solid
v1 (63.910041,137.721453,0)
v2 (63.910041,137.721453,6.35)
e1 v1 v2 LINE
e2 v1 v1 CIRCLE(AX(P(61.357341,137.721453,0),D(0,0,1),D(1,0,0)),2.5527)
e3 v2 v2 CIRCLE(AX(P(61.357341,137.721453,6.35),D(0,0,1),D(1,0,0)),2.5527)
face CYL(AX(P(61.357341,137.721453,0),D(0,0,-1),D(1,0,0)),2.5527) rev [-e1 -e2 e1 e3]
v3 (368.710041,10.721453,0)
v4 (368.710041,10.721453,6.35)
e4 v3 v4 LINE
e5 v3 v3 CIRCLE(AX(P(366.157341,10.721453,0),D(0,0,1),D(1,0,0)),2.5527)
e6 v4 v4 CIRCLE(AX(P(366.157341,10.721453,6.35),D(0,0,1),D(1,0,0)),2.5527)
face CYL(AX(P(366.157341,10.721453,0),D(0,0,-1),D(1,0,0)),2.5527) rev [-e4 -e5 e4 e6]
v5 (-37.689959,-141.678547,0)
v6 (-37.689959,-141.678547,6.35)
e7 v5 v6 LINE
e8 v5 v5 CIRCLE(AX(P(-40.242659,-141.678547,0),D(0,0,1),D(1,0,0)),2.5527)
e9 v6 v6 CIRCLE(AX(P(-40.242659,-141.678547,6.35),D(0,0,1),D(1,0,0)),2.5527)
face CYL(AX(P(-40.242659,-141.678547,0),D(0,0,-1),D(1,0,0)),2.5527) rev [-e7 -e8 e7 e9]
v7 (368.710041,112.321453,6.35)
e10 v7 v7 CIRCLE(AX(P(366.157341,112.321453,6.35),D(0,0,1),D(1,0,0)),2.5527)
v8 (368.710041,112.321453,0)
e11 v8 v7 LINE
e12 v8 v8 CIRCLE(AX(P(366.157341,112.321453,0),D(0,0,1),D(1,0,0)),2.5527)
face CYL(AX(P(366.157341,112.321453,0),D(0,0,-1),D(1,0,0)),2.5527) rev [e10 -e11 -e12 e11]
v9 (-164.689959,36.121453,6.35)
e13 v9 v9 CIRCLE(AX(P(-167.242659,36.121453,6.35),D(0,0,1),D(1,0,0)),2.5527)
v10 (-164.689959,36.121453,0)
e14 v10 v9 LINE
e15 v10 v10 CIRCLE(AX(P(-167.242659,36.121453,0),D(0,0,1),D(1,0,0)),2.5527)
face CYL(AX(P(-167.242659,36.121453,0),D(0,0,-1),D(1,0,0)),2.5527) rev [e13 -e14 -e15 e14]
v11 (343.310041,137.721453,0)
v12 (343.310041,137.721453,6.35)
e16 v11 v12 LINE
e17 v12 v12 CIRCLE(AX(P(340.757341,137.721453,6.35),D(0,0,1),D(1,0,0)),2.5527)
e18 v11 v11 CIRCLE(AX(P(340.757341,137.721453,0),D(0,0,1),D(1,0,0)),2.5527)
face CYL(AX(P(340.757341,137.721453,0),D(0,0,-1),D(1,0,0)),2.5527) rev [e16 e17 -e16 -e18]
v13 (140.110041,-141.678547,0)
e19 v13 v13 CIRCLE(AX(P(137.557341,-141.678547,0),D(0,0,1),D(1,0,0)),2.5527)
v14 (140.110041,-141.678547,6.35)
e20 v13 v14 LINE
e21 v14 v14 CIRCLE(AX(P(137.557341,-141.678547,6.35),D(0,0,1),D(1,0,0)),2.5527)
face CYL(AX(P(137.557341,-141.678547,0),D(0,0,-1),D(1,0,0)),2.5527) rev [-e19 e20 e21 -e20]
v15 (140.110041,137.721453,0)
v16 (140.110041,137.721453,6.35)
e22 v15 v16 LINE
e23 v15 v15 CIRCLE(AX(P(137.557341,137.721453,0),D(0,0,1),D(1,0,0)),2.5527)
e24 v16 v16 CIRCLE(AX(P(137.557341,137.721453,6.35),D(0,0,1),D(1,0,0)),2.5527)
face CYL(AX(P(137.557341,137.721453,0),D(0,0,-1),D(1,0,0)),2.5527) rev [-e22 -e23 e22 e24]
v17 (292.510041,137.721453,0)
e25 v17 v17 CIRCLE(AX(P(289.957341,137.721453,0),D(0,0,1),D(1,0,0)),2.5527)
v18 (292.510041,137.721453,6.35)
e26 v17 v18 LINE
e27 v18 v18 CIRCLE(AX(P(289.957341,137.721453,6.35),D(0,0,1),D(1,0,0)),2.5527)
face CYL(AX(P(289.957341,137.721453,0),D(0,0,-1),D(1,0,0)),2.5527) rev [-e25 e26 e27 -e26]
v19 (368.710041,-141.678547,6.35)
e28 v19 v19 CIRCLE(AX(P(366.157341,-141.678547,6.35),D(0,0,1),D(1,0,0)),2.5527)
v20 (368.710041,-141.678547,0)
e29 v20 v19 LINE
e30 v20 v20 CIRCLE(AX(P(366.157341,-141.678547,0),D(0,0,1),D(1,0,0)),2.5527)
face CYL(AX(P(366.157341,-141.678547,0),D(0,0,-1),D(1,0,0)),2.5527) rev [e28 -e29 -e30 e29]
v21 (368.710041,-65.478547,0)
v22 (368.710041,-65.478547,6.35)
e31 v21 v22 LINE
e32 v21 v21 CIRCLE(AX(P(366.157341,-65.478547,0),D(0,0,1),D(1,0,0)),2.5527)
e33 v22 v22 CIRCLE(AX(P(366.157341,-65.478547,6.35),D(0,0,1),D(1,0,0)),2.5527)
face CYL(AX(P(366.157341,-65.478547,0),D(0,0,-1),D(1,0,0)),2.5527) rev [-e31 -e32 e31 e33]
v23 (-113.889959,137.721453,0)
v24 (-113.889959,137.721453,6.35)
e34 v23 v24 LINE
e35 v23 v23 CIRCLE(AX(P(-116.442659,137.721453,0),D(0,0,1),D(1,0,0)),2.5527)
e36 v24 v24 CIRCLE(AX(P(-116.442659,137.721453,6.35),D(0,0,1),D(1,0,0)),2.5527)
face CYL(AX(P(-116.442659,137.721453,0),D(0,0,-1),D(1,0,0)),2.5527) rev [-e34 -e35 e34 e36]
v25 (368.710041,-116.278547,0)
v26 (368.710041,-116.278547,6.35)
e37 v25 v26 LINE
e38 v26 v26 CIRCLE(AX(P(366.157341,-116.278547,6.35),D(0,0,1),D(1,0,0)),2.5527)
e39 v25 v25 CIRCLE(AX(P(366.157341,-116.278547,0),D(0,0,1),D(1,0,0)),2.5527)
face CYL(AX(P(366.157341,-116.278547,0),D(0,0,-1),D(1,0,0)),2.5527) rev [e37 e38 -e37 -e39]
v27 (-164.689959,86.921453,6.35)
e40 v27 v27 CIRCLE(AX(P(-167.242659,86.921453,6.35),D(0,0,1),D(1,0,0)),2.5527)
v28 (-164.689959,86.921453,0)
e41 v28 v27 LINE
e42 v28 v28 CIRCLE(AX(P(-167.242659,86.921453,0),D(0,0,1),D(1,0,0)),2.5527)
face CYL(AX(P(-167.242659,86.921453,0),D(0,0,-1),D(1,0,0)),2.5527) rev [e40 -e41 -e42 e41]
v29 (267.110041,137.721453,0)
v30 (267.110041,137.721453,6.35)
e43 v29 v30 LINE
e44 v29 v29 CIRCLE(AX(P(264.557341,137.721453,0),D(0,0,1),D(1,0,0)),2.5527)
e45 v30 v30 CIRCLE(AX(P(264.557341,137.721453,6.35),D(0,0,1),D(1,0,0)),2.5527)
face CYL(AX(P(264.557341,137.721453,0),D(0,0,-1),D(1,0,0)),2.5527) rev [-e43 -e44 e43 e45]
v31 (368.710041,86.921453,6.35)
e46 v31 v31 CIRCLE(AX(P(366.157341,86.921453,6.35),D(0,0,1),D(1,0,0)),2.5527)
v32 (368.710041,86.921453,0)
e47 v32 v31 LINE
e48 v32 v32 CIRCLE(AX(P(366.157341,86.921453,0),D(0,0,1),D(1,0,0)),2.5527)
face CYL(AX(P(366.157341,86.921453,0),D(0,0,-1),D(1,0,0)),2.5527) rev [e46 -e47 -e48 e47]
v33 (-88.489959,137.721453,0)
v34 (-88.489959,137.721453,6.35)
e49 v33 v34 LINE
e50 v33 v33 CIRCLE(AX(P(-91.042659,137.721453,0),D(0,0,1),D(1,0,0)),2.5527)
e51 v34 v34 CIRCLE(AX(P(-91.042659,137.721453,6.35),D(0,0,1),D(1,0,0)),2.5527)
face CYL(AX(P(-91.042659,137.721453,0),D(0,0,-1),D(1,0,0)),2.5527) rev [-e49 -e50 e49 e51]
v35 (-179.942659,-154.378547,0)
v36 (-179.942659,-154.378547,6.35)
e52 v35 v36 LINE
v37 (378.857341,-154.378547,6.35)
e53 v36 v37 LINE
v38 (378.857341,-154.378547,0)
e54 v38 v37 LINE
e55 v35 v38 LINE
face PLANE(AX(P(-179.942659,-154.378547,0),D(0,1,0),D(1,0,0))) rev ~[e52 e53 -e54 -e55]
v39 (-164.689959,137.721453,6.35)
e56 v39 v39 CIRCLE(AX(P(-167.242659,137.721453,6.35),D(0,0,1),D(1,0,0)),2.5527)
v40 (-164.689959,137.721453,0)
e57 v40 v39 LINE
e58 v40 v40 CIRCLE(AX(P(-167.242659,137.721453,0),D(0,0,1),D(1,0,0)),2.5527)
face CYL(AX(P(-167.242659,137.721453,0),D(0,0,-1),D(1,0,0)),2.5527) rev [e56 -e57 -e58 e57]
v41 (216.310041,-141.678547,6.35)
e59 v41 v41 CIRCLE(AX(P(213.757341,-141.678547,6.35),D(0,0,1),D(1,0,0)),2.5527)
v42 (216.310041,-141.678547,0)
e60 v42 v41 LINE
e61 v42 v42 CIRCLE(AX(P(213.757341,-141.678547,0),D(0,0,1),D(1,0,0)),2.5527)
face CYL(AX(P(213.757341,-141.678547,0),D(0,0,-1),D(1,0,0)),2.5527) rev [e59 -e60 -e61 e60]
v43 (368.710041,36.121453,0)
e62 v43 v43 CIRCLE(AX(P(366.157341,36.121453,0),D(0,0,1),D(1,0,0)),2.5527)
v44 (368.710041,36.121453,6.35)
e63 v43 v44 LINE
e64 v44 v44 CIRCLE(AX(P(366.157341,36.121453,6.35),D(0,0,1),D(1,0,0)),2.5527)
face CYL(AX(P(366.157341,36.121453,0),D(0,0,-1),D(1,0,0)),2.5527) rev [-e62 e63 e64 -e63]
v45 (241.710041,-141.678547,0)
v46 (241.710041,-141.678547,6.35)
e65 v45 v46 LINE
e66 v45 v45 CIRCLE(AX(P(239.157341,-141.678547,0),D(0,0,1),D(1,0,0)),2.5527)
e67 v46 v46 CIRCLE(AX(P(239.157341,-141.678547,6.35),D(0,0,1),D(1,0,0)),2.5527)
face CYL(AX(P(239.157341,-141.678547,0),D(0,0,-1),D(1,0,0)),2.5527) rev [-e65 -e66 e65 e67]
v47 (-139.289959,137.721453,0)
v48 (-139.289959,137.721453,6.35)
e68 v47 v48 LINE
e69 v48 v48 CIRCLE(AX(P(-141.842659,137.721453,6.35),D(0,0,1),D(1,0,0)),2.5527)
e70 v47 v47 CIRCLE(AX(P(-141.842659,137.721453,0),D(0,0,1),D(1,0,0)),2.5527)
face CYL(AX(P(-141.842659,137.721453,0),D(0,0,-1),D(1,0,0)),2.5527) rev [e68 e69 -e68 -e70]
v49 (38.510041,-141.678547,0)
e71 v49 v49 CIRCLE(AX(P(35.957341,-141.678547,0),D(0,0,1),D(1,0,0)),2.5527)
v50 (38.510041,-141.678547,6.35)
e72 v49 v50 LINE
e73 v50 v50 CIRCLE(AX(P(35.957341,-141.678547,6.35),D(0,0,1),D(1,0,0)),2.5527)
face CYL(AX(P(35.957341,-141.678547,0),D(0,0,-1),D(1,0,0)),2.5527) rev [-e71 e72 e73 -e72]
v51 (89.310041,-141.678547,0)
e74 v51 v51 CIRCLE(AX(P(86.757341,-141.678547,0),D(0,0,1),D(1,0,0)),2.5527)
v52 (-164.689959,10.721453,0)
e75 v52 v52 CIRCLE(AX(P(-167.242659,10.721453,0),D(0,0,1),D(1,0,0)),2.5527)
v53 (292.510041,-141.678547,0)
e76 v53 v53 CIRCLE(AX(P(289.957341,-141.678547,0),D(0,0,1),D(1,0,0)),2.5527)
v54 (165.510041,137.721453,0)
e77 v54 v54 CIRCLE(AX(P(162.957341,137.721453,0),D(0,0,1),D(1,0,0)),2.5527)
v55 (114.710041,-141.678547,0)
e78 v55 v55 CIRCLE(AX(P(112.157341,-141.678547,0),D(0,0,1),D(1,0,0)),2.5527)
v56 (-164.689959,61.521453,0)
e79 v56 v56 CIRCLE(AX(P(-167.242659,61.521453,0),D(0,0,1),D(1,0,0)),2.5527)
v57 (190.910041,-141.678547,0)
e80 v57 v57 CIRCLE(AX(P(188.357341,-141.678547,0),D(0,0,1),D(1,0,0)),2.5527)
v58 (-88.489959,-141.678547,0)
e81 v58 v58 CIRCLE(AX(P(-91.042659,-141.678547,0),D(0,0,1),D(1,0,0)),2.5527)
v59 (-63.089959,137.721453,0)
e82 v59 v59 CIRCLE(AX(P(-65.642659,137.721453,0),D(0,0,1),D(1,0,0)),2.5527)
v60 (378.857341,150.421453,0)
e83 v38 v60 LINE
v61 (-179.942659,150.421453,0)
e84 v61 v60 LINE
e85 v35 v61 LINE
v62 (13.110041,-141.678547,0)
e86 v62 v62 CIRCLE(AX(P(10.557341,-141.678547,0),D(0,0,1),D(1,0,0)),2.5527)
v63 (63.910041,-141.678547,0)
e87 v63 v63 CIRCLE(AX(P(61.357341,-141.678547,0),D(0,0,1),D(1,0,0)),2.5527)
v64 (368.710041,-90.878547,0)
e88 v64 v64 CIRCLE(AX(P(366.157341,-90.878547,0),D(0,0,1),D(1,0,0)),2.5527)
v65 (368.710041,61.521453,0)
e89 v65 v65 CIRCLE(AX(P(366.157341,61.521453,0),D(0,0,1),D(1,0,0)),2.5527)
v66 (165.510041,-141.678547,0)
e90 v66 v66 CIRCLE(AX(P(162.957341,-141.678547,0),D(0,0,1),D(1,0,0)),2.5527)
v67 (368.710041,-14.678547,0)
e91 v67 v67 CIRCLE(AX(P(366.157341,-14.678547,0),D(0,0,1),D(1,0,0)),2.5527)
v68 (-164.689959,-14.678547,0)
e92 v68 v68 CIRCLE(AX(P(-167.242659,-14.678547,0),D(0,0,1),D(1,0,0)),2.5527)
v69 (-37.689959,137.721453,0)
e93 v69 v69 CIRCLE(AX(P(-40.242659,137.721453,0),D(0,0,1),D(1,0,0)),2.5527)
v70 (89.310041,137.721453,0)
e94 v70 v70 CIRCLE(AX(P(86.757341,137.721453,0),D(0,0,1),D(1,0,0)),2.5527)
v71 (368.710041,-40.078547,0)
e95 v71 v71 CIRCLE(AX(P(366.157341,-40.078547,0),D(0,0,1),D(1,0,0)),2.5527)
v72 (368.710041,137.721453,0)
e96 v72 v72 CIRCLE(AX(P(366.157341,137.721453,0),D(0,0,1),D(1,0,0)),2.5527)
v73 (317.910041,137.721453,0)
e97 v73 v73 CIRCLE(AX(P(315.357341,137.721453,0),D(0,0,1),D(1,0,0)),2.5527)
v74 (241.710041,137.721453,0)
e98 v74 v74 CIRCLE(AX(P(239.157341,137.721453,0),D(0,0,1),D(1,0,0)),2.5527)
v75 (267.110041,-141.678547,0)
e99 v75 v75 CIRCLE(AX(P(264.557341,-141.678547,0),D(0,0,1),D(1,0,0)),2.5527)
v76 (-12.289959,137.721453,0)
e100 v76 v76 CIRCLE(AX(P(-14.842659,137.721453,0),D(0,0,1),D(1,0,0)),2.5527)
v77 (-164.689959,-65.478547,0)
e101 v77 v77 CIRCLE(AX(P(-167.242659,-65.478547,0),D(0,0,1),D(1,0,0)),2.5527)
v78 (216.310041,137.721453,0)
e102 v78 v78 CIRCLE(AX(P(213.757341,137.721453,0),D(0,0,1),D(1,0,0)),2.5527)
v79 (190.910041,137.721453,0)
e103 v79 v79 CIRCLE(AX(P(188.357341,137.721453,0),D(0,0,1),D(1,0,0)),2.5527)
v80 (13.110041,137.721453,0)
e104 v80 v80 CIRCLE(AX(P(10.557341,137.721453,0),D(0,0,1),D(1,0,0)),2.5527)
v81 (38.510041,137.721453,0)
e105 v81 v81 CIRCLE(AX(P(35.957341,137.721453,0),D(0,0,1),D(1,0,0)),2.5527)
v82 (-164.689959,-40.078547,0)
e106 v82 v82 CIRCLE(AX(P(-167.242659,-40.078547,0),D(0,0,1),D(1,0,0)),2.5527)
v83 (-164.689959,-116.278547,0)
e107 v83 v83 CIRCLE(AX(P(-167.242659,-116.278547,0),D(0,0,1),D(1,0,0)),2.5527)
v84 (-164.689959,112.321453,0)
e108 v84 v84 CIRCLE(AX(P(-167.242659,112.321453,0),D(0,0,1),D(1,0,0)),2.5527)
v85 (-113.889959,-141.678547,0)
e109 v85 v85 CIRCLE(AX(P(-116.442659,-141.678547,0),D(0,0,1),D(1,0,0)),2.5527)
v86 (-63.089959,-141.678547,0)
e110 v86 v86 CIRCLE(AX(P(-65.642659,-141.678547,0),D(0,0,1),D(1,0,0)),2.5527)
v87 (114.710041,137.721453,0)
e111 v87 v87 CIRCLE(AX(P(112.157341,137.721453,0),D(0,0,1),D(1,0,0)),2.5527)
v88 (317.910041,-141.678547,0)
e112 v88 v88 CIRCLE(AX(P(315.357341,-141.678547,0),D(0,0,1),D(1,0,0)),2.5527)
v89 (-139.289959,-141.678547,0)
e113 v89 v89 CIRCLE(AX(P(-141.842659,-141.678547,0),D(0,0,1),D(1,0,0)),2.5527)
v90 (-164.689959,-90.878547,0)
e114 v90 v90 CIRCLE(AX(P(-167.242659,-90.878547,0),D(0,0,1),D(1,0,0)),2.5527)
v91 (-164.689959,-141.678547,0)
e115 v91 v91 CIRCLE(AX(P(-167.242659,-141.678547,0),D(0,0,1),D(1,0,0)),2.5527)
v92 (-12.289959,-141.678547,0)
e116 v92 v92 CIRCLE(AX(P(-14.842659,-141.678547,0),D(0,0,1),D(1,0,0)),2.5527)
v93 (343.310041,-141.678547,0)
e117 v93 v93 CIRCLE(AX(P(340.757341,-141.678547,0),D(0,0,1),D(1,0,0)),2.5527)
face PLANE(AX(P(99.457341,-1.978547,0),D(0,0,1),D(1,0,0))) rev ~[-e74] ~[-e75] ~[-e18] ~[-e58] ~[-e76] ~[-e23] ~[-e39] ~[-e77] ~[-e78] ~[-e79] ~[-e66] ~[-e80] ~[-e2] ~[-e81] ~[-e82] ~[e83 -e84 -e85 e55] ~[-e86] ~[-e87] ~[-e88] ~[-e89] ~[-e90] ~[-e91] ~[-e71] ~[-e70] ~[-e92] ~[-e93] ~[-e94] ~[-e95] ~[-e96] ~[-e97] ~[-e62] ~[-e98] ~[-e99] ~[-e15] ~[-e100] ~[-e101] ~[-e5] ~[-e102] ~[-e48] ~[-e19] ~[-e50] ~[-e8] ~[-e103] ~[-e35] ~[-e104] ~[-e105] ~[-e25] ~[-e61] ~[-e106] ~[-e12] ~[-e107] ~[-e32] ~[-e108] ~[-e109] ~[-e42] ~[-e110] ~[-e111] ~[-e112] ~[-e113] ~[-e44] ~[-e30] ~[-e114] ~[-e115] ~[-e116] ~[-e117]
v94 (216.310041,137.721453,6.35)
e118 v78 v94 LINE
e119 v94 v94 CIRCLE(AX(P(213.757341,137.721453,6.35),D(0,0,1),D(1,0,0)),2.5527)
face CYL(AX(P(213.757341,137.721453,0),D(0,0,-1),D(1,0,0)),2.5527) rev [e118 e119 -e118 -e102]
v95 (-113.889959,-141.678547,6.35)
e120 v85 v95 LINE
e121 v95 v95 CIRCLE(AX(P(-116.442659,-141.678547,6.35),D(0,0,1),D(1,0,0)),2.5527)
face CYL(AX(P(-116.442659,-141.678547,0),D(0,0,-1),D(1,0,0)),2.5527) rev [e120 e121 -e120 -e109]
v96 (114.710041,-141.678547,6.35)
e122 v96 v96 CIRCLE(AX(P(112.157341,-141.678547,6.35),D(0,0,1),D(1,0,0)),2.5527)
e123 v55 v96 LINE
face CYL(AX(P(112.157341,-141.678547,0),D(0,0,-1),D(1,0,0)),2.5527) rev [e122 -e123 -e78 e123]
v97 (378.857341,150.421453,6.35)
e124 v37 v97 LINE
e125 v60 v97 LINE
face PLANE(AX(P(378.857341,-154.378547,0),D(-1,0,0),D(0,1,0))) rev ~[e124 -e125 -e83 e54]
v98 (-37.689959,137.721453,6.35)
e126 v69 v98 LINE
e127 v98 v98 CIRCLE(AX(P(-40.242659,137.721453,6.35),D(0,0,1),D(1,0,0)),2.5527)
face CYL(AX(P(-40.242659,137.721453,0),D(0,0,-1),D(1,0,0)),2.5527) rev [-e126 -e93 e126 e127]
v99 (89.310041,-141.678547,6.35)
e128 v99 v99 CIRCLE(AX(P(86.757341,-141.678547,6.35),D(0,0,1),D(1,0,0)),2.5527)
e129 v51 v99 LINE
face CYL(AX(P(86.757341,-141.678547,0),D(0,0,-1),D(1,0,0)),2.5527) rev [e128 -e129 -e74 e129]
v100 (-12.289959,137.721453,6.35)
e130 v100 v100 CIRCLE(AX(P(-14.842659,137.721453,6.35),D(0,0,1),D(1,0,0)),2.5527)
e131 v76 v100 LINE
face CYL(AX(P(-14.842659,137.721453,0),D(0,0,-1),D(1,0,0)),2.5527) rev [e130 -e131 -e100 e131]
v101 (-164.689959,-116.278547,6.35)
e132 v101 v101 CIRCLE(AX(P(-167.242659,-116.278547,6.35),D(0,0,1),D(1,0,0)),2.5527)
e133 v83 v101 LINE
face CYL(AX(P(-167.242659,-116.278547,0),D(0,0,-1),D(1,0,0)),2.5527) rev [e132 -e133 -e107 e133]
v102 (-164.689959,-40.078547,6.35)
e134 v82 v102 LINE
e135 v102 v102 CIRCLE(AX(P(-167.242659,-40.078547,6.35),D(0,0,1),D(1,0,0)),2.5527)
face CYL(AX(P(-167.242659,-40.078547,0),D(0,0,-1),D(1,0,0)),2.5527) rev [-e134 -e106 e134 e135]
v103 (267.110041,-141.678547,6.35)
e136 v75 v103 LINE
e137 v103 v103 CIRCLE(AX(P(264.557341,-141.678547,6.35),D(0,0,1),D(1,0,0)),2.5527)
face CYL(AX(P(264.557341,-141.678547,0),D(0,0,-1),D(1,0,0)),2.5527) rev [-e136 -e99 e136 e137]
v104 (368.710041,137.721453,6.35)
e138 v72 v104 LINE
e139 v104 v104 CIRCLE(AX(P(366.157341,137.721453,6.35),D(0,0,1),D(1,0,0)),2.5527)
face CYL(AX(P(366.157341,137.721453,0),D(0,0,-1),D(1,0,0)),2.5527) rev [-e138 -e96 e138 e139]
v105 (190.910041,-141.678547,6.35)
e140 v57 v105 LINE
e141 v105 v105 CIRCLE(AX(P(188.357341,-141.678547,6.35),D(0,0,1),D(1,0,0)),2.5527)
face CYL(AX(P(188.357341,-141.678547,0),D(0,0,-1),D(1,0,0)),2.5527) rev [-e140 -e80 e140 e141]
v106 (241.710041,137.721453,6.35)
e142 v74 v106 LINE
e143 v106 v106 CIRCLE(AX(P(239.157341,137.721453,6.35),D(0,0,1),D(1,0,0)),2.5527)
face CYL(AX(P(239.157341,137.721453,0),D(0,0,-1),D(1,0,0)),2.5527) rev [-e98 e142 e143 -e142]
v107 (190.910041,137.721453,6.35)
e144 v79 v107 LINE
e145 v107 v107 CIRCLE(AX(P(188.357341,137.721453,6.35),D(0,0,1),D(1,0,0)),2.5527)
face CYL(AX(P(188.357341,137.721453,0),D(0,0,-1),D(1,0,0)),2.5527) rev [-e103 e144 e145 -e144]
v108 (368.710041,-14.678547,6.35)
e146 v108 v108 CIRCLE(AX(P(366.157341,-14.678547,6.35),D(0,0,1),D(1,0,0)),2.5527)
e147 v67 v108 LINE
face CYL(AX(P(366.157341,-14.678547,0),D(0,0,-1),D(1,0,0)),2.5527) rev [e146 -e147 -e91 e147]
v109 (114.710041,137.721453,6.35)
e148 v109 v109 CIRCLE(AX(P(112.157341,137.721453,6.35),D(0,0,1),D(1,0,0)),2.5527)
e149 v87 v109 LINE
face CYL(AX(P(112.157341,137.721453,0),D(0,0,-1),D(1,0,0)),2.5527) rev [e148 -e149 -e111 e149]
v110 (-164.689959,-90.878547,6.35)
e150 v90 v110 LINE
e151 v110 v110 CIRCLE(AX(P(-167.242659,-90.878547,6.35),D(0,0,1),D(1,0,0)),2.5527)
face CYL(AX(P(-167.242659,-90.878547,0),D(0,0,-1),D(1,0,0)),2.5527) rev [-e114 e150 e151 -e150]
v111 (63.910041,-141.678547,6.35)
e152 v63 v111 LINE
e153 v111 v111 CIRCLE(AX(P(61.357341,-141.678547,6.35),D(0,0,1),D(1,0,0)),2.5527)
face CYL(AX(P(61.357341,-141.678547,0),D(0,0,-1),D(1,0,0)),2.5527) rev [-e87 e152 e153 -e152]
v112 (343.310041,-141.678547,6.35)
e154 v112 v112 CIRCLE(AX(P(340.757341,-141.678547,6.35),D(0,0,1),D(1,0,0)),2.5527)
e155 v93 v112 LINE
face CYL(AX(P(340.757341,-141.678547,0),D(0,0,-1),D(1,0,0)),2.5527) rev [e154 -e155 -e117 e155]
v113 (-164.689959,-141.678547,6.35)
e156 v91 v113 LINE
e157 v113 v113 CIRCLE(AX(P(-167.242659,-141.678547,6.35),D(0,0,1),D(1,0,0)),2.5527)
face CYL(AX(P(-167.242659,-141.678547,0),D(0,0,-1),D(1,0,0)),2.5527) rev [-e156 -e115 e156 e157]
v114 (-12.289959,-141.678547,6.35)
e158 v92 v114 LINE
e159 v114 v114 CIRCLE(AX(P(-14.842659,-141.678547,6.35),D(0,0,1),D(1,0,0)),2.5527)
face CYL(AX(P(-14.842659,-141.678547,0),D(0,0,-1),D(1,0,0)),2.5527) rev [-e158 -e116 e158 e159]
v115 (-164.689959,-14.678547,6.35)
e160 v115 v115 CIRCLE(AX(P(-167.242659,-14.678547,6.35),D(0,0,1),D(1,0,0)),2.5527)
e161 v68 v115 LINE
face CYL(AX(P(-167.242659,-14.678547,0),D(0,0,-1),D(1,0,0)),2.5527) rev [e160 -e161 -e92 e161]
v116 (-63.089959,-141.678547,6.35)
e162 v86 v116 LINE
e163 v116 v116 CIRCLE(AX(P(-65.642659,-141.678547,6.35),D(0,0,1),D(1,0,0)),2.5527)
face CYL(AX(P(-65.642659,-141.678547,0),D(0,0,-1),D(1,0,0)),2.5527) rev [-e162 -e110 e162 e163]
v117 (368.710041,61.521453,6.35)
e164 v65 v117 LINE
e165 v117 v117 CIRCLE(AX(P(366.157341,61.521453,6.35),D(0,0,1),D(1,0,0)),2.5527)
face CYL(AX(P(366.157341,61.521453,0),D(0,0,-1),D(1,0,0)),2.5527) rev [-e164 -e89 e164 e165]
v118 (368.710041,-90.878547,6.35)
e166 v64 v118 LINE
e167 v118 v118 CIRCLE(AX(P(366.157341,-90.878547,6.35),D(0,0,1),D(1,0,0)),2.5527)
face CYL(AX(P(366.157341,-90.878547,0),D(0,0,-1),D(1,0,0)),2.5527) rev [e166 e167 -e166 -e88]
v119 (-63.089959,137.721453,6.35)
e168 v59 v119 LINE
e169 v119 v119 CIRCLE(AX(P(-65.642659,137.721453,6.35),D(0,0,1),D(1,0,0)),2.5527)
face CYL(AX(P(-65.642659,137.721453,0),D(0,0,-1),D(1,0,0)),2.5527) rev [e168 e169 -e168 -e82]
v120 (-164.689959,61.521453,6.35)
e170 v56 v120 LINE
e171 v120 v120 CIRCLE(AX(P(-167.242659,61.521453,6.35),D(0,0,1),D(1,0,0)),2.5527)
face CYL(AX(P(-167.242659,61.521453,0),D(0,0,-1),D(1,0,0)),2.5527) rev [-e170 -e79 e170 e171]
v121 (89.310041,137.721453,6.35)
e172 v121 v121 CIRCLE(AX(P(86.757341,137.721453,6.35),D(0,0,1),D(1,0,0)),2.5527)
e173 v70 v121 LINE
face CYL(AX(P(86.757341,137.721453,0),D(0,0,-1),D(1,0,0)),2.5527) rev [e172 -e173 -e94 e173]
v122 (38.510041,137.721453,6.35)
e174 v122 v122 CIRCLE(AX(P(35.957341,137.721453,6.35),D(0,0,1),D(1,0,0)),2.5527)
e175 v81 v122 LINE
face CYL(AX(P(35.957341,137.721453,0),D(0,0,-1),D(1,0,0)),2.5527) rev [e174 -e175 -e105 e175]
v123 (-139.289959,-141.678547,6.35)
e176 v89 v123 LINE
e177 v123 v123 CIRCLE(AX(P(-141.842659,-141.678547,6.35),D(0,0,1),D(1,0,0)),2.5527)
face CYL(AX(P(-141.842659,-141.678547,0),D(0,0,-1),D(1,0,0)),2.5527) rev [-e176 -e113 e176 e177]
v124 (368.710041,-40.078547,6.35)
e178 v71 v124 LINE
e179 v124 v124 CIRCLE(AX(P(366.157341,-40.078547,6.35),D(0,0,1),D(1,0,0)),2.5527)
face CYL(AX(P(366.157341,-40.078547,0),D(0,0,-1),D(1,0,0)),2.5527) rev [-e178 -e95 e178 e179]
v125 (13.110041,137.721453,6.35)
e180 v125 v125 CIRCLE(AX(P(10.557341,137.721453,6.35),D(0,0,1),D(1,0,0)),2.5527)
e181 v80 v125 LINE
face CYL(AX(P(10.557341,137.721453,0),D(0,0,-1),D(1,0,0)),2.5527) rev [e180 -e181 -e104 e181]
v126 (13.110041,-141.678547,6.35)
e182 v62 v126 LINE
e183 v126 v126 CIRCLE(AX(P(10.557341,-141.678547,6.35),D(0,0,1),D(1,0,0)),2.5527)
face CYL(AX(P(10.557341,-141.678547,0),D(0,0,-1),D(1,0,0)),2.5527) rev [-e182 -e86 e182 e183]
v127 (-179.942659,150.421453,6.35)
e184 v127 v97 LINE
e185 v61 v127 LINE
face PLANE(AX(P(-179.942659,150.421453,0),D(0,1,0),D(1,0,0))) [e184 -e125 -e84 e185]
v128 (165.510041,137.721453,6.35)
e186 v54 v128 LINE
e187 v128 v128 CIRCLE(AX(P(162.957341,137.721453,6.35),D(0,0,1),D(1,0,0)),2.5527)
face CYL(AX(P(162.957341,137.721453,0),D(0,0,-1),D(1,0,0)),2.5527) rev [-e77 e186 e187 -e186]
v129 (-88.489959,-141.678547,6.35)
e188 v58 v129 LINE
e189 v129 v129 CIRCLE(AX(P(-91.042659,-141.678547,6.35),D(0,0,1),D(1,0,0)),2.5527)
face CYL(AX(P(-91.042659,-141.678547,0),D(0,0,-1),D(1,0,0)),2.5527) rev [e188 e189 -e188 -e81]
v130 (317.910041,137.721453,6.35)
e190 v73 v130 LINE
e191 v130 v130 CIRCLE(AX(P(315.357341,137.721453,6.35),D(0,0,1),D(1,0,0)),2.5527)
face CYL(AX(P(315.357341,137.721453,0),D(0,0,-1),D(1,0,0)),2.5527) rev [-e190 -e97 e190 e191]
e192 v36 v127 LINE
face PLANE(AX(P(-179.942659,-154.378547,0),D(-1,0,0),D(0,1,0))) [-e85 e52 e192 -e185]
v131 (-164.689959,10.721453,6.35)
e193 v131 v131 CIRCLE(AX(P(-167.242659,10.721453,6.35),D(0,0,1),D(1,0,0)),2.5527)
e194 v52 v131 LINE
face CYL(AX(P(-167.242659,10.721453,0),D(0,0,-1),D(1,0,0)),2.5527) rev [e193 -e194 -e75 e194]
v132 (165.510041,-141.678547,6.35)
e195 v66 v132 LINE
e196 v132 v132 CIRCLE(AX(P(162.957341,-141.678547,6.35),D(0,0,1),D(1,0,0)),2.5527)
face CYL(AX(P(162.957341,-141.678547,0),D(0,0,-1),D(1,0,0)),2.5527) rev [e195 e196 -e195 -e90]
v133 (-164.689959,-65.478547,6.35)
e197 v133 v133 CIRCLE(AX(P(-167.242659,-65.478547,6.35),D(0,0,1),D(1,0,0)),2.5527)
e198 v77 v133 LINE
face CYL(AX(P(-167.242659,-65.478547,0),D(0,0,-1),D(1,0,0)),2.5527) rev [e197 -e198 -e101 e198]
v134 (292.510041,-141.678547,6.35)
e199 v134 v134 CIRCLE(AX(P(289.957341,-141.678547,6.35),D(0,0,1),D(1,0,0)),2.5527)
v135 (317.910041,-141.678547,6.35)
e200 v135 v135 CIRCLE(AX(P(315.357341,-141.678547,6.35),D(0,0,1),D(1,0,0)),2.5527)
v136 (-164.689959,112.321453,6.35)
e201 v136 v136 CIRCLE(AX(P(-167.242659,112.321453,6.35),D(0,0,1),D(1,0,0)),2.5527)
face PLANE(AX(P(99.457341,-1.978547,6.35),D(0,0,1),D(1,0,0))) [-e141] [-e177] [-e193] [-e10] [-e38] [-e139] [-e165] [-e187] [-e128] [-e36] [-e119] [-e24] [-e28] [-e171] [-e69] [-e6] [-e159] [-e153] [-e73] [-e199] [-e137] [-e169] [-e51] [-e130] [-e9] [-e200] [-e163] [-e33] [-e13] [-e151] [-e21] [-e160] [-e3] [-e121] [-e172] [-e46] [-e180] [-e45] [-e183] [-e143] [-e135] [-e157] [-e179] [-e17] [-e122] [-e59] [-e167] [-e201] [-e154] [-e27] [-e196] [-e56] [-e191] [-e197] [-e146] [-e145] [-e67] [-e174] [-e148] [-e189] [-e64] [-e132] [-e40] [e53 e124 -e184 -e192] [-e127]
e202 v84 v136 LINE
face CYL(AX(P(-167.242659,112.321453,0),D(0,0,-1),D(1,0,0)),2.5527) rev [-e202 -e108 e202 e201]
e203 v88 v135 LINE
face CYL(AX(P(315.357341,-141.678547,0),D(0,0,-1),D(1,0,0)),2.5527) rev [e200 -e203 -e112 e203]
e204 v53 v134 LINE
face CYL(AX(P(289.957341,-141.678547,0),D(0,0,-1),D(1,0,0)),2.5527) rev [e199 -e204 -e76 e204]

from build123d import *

# Parameters (mm, degrees)
F0_W     = 558.8
F0_H     = 304.8
F0_R     = 2.5527
F1_DEPTH = 6.35


with BuildPart() as f1:
    # F0 (on Top) → F1 (new body)
    with BuildSketch(Plane.XY):
        with Locations((99.457341, -1.978547)):
            Rectangle(F0_W, F0_H)
        with Locations((-167.242659, -141.678547)):
            Circle(F0_R, mode=Mode.SUBTRACT)
        with Locations((-141.842659, -141.678547)):
            Circle(F0_R, mode=Mode.SUBTRACT)
        with Locations((-116.442659, -141.678547)):
            Circle(F0_R, mode=Mode.SUBTRACT)
        with Locations((-167.242659, -116.278547)):
            Circle(F0_R, mode=Mode.SUBTRACT)
        with Locations((-91.042659, -141.678547)):
            Circle(F0_R, mode=Mode.SUBTRACT)
        with Locations((-65.642659, -141.678547)):
            Circle(F0_R, mode=Mode.SUBTRACT)
        with Locations((-167.242659, -90.878547)):
            Circle(F0_R, mode=Mode.SUBTRACT)
        with Locations((-40.242659, -141.678547)):
            Circle(F0_R, mode=Mode.SUBTRACT)
        with Locations((-14.842659, -141.678547)):
            Circle(F0_R, mode=Mode.SUBTRACT)
        with Locations((10.557341, -141.678547)):
            Circle(F0_R, mode=Mode.SUBTRACT)
        with Locations((35.957341, -141.678547)):
            Circle(F0_R, mode=Mode.SUBTRACT)
        with Locations((61.357341, -141.678547)):
            Circle(F0_R, mode=Mode.SUBTRACT)
        with Locations((86.757341, -141.678547)):
            Circle(F0_R, mode=Mode.SUBTRACT)
        with Locations((-167.242659, -65.478547)):
            Circle(F0_R, mode=Mode.SUBTRACT)
        with Locations((-167.242659, -40.078547)):
            Circle(F0_R, mode=Mode.SUBTRACT)
        with Locations((-167.242659, -14.678547)):
            Circle(F0_R, mode=Mode.SUBTRACT)
        with Locations((112.157341, -141.678547)):
            Circle(F0_R, mode=Mode.SUBTRACT)
        with Locations((137.557341, -141.678547)):
            Circle(F0_R, mode=Mode.SUBTRACT)
        with Locations((162.957341, -141.678547)):
            Circle(F0_R, mode=Mode.SUBTRACT)
        with Locations((188.357341, -141.678547)):
            Circle(F0_R, mode=Mode.SUBTRACT)
        with Locations((213.757341, -141.678547)):
            Circle(F0_R, mode=Mode.SUBTRACT)
        with Locations((239.157341, -141.678547)):
            Circle(F0_R, mode=Mode.SUBTRACT)
        with Locations((264.557341, -141.678547)):
            Circle(F0_R, mode=Mode.SUBTRACT)
        with Locations((289.957341, -141.678547)):
            Circle(F0_R, mode=Mode.SUBTRACT)
        with Locations((315.357341, -141.678547)):
            Circle(F0_R, mode=Mode.SUBTRACT)
        with Locations((340.757341, -141.678547)):
            Circle(F0_R, mode=Mode.SUBTRACT)
        with Locations((366.157341, -141.678547)):
            Circle(F0_R, mode=Mode.SUBTRACT)
        with Locations((366.157341, -116.278547)):
            Circle(F0_R, mode=Mode.SUBTRACT)
        with Locations((366.157341, -90.878547)):
            Circle(F0_R, mode=Mode.SUBTRACT)
        with Locations((366.157341, -65.478547)):
            Circle(F0_R, mode=Mode.SUBTRACT)
        with Locations((366.157341, -40.078547)):
            Circle(F0_R, mode=Mode.SUBTRACT)
        with Locations((366.157341, -14.678547)):
            Circle(F0_R, mode=Mode.SUBTRACT)
        with Locations((-167.242659, 10.721453)):
            Circle(F0_R, mode=Mode.SUBTRACT)
        with Locations((-167.242659, 36.121453)):
            Circle(F0_R, mode=Mode.SUBTRACT)
        with Locations((-167.242659, 61.521453)):
            Circle(F0_R, mode=Mode.SUBTRACT)
        with Locations((-167.242659, 86.921453)):
            Circle(F0_R, mode=Mode.SUBTRACT)
        with Locations((-167.242659, 112.321453)):
            Circle(F0_R, mode=Mode.SUBTRACT)
        with Locations((-167.242659, 137.721453)):
            Circle(F0_R, mode=Mode.SUBTRACT)
        with Locations((-141.842659, 137.721453)):
            Circle(F0_R, mode=Mode.SUBTRACT)
        with Locations((-116.442659, 137.721453)):
            Circle(F0_R, mode=Mode.SUBTRACT)
        with Locations((-91.042659, 137.721453)):
            Circle(F0_R, mode=Mode.SUBTRACT)
        with Locations((-65.642659, 137.721453)):
            Circle(F0_R, mode=Mode.SUBTRACT)
        with Locations((-40.242659, 137.721453)):
            Circle(F0_R, mode=Mode.SUBTRACT)
        with Locations((-14.842659, 137.721453)):
            Circle(F0_R, mode=Mode.SUBTRACT)
        with Locations((10.557341, 137.721453)):
            Circle(F0_R, mode=Mode.SUBTRACT)
        with Locations((35.957341, 137.721453)):
            Circle(F0_R, mode=Mode.SUBTRACT)
        with Locations((61.357341, 137.721453)):
            Circle(F0_R, mode=Mode.SUBTRACT)
        with Locations((86.757341, 137.721453)):
            Circle(F0_R, mode=Mode.SUBTRACT)
        with Locations((366.157341, 10.721453)):
            Circle(F0_R, mode=Mode.SUBTRACT)
        with Locations((366.157341, 36.121453)):
            Circle(F0_R, mode=Mode.SUBTRACT)
        with Locations((366.157341, 61.521453)):
            Circle(F0_R, mode=Mode.SUBTRACT)
        with Locations((112.157341, 137.721453)):
            Circle(F0_R, mode=Mode.SUBTRACT)
        with Locations((137.557341, 137.721453)):
            Circle(F0_R, mode=Mode.SUBTRACT)
        with Locations((162.957341, 137.721453)):
            Circle(F0_R, mode=Mode.SUBTRACT)
        with Locations((188.357341, 137.721453)):
            Circle(F0_R, mode=Mode.SUBTRACT)
        with Locations((213.757341, 137.721453)):
            Circle(F0_R, mode=Mode.SUBTRACT)
        with Locations((366.157341, 86.921453)):
            Circle(F0_R, mode=Mode.SUBTRACT)
        with Locations((239.157341, 137.721453)):
            Circle(F0_R, mode=Mode.SUBTRACT)
        with Locations((264.557341, 137.721453)):
            Circle(F0_R, mode=Mode.SUBTRACT)
        with Locations((289.957341, 137.721453)):
            Circle(F0_R, mode=Mode.SUBTRACT)
        with Locations((366.157341, 112.321453)):
            Circle(F0_R, mode=Mode.SUBTRACT)
        with Locations((315.357341, 137.721453)):
            Circle(F0_R, mode=Mode.SUBTRACT)
        with Locations((340.757341, 137.721453)):
            Circle(F0_R, mode=Mode.SUBTRACT)
        with Locations((366.157341, 137.721453)):
            Circle(F0_R, mode=Mode.SUBTRACT)
    extrude(amount=F1_DEPTH)


solid = f1.part
